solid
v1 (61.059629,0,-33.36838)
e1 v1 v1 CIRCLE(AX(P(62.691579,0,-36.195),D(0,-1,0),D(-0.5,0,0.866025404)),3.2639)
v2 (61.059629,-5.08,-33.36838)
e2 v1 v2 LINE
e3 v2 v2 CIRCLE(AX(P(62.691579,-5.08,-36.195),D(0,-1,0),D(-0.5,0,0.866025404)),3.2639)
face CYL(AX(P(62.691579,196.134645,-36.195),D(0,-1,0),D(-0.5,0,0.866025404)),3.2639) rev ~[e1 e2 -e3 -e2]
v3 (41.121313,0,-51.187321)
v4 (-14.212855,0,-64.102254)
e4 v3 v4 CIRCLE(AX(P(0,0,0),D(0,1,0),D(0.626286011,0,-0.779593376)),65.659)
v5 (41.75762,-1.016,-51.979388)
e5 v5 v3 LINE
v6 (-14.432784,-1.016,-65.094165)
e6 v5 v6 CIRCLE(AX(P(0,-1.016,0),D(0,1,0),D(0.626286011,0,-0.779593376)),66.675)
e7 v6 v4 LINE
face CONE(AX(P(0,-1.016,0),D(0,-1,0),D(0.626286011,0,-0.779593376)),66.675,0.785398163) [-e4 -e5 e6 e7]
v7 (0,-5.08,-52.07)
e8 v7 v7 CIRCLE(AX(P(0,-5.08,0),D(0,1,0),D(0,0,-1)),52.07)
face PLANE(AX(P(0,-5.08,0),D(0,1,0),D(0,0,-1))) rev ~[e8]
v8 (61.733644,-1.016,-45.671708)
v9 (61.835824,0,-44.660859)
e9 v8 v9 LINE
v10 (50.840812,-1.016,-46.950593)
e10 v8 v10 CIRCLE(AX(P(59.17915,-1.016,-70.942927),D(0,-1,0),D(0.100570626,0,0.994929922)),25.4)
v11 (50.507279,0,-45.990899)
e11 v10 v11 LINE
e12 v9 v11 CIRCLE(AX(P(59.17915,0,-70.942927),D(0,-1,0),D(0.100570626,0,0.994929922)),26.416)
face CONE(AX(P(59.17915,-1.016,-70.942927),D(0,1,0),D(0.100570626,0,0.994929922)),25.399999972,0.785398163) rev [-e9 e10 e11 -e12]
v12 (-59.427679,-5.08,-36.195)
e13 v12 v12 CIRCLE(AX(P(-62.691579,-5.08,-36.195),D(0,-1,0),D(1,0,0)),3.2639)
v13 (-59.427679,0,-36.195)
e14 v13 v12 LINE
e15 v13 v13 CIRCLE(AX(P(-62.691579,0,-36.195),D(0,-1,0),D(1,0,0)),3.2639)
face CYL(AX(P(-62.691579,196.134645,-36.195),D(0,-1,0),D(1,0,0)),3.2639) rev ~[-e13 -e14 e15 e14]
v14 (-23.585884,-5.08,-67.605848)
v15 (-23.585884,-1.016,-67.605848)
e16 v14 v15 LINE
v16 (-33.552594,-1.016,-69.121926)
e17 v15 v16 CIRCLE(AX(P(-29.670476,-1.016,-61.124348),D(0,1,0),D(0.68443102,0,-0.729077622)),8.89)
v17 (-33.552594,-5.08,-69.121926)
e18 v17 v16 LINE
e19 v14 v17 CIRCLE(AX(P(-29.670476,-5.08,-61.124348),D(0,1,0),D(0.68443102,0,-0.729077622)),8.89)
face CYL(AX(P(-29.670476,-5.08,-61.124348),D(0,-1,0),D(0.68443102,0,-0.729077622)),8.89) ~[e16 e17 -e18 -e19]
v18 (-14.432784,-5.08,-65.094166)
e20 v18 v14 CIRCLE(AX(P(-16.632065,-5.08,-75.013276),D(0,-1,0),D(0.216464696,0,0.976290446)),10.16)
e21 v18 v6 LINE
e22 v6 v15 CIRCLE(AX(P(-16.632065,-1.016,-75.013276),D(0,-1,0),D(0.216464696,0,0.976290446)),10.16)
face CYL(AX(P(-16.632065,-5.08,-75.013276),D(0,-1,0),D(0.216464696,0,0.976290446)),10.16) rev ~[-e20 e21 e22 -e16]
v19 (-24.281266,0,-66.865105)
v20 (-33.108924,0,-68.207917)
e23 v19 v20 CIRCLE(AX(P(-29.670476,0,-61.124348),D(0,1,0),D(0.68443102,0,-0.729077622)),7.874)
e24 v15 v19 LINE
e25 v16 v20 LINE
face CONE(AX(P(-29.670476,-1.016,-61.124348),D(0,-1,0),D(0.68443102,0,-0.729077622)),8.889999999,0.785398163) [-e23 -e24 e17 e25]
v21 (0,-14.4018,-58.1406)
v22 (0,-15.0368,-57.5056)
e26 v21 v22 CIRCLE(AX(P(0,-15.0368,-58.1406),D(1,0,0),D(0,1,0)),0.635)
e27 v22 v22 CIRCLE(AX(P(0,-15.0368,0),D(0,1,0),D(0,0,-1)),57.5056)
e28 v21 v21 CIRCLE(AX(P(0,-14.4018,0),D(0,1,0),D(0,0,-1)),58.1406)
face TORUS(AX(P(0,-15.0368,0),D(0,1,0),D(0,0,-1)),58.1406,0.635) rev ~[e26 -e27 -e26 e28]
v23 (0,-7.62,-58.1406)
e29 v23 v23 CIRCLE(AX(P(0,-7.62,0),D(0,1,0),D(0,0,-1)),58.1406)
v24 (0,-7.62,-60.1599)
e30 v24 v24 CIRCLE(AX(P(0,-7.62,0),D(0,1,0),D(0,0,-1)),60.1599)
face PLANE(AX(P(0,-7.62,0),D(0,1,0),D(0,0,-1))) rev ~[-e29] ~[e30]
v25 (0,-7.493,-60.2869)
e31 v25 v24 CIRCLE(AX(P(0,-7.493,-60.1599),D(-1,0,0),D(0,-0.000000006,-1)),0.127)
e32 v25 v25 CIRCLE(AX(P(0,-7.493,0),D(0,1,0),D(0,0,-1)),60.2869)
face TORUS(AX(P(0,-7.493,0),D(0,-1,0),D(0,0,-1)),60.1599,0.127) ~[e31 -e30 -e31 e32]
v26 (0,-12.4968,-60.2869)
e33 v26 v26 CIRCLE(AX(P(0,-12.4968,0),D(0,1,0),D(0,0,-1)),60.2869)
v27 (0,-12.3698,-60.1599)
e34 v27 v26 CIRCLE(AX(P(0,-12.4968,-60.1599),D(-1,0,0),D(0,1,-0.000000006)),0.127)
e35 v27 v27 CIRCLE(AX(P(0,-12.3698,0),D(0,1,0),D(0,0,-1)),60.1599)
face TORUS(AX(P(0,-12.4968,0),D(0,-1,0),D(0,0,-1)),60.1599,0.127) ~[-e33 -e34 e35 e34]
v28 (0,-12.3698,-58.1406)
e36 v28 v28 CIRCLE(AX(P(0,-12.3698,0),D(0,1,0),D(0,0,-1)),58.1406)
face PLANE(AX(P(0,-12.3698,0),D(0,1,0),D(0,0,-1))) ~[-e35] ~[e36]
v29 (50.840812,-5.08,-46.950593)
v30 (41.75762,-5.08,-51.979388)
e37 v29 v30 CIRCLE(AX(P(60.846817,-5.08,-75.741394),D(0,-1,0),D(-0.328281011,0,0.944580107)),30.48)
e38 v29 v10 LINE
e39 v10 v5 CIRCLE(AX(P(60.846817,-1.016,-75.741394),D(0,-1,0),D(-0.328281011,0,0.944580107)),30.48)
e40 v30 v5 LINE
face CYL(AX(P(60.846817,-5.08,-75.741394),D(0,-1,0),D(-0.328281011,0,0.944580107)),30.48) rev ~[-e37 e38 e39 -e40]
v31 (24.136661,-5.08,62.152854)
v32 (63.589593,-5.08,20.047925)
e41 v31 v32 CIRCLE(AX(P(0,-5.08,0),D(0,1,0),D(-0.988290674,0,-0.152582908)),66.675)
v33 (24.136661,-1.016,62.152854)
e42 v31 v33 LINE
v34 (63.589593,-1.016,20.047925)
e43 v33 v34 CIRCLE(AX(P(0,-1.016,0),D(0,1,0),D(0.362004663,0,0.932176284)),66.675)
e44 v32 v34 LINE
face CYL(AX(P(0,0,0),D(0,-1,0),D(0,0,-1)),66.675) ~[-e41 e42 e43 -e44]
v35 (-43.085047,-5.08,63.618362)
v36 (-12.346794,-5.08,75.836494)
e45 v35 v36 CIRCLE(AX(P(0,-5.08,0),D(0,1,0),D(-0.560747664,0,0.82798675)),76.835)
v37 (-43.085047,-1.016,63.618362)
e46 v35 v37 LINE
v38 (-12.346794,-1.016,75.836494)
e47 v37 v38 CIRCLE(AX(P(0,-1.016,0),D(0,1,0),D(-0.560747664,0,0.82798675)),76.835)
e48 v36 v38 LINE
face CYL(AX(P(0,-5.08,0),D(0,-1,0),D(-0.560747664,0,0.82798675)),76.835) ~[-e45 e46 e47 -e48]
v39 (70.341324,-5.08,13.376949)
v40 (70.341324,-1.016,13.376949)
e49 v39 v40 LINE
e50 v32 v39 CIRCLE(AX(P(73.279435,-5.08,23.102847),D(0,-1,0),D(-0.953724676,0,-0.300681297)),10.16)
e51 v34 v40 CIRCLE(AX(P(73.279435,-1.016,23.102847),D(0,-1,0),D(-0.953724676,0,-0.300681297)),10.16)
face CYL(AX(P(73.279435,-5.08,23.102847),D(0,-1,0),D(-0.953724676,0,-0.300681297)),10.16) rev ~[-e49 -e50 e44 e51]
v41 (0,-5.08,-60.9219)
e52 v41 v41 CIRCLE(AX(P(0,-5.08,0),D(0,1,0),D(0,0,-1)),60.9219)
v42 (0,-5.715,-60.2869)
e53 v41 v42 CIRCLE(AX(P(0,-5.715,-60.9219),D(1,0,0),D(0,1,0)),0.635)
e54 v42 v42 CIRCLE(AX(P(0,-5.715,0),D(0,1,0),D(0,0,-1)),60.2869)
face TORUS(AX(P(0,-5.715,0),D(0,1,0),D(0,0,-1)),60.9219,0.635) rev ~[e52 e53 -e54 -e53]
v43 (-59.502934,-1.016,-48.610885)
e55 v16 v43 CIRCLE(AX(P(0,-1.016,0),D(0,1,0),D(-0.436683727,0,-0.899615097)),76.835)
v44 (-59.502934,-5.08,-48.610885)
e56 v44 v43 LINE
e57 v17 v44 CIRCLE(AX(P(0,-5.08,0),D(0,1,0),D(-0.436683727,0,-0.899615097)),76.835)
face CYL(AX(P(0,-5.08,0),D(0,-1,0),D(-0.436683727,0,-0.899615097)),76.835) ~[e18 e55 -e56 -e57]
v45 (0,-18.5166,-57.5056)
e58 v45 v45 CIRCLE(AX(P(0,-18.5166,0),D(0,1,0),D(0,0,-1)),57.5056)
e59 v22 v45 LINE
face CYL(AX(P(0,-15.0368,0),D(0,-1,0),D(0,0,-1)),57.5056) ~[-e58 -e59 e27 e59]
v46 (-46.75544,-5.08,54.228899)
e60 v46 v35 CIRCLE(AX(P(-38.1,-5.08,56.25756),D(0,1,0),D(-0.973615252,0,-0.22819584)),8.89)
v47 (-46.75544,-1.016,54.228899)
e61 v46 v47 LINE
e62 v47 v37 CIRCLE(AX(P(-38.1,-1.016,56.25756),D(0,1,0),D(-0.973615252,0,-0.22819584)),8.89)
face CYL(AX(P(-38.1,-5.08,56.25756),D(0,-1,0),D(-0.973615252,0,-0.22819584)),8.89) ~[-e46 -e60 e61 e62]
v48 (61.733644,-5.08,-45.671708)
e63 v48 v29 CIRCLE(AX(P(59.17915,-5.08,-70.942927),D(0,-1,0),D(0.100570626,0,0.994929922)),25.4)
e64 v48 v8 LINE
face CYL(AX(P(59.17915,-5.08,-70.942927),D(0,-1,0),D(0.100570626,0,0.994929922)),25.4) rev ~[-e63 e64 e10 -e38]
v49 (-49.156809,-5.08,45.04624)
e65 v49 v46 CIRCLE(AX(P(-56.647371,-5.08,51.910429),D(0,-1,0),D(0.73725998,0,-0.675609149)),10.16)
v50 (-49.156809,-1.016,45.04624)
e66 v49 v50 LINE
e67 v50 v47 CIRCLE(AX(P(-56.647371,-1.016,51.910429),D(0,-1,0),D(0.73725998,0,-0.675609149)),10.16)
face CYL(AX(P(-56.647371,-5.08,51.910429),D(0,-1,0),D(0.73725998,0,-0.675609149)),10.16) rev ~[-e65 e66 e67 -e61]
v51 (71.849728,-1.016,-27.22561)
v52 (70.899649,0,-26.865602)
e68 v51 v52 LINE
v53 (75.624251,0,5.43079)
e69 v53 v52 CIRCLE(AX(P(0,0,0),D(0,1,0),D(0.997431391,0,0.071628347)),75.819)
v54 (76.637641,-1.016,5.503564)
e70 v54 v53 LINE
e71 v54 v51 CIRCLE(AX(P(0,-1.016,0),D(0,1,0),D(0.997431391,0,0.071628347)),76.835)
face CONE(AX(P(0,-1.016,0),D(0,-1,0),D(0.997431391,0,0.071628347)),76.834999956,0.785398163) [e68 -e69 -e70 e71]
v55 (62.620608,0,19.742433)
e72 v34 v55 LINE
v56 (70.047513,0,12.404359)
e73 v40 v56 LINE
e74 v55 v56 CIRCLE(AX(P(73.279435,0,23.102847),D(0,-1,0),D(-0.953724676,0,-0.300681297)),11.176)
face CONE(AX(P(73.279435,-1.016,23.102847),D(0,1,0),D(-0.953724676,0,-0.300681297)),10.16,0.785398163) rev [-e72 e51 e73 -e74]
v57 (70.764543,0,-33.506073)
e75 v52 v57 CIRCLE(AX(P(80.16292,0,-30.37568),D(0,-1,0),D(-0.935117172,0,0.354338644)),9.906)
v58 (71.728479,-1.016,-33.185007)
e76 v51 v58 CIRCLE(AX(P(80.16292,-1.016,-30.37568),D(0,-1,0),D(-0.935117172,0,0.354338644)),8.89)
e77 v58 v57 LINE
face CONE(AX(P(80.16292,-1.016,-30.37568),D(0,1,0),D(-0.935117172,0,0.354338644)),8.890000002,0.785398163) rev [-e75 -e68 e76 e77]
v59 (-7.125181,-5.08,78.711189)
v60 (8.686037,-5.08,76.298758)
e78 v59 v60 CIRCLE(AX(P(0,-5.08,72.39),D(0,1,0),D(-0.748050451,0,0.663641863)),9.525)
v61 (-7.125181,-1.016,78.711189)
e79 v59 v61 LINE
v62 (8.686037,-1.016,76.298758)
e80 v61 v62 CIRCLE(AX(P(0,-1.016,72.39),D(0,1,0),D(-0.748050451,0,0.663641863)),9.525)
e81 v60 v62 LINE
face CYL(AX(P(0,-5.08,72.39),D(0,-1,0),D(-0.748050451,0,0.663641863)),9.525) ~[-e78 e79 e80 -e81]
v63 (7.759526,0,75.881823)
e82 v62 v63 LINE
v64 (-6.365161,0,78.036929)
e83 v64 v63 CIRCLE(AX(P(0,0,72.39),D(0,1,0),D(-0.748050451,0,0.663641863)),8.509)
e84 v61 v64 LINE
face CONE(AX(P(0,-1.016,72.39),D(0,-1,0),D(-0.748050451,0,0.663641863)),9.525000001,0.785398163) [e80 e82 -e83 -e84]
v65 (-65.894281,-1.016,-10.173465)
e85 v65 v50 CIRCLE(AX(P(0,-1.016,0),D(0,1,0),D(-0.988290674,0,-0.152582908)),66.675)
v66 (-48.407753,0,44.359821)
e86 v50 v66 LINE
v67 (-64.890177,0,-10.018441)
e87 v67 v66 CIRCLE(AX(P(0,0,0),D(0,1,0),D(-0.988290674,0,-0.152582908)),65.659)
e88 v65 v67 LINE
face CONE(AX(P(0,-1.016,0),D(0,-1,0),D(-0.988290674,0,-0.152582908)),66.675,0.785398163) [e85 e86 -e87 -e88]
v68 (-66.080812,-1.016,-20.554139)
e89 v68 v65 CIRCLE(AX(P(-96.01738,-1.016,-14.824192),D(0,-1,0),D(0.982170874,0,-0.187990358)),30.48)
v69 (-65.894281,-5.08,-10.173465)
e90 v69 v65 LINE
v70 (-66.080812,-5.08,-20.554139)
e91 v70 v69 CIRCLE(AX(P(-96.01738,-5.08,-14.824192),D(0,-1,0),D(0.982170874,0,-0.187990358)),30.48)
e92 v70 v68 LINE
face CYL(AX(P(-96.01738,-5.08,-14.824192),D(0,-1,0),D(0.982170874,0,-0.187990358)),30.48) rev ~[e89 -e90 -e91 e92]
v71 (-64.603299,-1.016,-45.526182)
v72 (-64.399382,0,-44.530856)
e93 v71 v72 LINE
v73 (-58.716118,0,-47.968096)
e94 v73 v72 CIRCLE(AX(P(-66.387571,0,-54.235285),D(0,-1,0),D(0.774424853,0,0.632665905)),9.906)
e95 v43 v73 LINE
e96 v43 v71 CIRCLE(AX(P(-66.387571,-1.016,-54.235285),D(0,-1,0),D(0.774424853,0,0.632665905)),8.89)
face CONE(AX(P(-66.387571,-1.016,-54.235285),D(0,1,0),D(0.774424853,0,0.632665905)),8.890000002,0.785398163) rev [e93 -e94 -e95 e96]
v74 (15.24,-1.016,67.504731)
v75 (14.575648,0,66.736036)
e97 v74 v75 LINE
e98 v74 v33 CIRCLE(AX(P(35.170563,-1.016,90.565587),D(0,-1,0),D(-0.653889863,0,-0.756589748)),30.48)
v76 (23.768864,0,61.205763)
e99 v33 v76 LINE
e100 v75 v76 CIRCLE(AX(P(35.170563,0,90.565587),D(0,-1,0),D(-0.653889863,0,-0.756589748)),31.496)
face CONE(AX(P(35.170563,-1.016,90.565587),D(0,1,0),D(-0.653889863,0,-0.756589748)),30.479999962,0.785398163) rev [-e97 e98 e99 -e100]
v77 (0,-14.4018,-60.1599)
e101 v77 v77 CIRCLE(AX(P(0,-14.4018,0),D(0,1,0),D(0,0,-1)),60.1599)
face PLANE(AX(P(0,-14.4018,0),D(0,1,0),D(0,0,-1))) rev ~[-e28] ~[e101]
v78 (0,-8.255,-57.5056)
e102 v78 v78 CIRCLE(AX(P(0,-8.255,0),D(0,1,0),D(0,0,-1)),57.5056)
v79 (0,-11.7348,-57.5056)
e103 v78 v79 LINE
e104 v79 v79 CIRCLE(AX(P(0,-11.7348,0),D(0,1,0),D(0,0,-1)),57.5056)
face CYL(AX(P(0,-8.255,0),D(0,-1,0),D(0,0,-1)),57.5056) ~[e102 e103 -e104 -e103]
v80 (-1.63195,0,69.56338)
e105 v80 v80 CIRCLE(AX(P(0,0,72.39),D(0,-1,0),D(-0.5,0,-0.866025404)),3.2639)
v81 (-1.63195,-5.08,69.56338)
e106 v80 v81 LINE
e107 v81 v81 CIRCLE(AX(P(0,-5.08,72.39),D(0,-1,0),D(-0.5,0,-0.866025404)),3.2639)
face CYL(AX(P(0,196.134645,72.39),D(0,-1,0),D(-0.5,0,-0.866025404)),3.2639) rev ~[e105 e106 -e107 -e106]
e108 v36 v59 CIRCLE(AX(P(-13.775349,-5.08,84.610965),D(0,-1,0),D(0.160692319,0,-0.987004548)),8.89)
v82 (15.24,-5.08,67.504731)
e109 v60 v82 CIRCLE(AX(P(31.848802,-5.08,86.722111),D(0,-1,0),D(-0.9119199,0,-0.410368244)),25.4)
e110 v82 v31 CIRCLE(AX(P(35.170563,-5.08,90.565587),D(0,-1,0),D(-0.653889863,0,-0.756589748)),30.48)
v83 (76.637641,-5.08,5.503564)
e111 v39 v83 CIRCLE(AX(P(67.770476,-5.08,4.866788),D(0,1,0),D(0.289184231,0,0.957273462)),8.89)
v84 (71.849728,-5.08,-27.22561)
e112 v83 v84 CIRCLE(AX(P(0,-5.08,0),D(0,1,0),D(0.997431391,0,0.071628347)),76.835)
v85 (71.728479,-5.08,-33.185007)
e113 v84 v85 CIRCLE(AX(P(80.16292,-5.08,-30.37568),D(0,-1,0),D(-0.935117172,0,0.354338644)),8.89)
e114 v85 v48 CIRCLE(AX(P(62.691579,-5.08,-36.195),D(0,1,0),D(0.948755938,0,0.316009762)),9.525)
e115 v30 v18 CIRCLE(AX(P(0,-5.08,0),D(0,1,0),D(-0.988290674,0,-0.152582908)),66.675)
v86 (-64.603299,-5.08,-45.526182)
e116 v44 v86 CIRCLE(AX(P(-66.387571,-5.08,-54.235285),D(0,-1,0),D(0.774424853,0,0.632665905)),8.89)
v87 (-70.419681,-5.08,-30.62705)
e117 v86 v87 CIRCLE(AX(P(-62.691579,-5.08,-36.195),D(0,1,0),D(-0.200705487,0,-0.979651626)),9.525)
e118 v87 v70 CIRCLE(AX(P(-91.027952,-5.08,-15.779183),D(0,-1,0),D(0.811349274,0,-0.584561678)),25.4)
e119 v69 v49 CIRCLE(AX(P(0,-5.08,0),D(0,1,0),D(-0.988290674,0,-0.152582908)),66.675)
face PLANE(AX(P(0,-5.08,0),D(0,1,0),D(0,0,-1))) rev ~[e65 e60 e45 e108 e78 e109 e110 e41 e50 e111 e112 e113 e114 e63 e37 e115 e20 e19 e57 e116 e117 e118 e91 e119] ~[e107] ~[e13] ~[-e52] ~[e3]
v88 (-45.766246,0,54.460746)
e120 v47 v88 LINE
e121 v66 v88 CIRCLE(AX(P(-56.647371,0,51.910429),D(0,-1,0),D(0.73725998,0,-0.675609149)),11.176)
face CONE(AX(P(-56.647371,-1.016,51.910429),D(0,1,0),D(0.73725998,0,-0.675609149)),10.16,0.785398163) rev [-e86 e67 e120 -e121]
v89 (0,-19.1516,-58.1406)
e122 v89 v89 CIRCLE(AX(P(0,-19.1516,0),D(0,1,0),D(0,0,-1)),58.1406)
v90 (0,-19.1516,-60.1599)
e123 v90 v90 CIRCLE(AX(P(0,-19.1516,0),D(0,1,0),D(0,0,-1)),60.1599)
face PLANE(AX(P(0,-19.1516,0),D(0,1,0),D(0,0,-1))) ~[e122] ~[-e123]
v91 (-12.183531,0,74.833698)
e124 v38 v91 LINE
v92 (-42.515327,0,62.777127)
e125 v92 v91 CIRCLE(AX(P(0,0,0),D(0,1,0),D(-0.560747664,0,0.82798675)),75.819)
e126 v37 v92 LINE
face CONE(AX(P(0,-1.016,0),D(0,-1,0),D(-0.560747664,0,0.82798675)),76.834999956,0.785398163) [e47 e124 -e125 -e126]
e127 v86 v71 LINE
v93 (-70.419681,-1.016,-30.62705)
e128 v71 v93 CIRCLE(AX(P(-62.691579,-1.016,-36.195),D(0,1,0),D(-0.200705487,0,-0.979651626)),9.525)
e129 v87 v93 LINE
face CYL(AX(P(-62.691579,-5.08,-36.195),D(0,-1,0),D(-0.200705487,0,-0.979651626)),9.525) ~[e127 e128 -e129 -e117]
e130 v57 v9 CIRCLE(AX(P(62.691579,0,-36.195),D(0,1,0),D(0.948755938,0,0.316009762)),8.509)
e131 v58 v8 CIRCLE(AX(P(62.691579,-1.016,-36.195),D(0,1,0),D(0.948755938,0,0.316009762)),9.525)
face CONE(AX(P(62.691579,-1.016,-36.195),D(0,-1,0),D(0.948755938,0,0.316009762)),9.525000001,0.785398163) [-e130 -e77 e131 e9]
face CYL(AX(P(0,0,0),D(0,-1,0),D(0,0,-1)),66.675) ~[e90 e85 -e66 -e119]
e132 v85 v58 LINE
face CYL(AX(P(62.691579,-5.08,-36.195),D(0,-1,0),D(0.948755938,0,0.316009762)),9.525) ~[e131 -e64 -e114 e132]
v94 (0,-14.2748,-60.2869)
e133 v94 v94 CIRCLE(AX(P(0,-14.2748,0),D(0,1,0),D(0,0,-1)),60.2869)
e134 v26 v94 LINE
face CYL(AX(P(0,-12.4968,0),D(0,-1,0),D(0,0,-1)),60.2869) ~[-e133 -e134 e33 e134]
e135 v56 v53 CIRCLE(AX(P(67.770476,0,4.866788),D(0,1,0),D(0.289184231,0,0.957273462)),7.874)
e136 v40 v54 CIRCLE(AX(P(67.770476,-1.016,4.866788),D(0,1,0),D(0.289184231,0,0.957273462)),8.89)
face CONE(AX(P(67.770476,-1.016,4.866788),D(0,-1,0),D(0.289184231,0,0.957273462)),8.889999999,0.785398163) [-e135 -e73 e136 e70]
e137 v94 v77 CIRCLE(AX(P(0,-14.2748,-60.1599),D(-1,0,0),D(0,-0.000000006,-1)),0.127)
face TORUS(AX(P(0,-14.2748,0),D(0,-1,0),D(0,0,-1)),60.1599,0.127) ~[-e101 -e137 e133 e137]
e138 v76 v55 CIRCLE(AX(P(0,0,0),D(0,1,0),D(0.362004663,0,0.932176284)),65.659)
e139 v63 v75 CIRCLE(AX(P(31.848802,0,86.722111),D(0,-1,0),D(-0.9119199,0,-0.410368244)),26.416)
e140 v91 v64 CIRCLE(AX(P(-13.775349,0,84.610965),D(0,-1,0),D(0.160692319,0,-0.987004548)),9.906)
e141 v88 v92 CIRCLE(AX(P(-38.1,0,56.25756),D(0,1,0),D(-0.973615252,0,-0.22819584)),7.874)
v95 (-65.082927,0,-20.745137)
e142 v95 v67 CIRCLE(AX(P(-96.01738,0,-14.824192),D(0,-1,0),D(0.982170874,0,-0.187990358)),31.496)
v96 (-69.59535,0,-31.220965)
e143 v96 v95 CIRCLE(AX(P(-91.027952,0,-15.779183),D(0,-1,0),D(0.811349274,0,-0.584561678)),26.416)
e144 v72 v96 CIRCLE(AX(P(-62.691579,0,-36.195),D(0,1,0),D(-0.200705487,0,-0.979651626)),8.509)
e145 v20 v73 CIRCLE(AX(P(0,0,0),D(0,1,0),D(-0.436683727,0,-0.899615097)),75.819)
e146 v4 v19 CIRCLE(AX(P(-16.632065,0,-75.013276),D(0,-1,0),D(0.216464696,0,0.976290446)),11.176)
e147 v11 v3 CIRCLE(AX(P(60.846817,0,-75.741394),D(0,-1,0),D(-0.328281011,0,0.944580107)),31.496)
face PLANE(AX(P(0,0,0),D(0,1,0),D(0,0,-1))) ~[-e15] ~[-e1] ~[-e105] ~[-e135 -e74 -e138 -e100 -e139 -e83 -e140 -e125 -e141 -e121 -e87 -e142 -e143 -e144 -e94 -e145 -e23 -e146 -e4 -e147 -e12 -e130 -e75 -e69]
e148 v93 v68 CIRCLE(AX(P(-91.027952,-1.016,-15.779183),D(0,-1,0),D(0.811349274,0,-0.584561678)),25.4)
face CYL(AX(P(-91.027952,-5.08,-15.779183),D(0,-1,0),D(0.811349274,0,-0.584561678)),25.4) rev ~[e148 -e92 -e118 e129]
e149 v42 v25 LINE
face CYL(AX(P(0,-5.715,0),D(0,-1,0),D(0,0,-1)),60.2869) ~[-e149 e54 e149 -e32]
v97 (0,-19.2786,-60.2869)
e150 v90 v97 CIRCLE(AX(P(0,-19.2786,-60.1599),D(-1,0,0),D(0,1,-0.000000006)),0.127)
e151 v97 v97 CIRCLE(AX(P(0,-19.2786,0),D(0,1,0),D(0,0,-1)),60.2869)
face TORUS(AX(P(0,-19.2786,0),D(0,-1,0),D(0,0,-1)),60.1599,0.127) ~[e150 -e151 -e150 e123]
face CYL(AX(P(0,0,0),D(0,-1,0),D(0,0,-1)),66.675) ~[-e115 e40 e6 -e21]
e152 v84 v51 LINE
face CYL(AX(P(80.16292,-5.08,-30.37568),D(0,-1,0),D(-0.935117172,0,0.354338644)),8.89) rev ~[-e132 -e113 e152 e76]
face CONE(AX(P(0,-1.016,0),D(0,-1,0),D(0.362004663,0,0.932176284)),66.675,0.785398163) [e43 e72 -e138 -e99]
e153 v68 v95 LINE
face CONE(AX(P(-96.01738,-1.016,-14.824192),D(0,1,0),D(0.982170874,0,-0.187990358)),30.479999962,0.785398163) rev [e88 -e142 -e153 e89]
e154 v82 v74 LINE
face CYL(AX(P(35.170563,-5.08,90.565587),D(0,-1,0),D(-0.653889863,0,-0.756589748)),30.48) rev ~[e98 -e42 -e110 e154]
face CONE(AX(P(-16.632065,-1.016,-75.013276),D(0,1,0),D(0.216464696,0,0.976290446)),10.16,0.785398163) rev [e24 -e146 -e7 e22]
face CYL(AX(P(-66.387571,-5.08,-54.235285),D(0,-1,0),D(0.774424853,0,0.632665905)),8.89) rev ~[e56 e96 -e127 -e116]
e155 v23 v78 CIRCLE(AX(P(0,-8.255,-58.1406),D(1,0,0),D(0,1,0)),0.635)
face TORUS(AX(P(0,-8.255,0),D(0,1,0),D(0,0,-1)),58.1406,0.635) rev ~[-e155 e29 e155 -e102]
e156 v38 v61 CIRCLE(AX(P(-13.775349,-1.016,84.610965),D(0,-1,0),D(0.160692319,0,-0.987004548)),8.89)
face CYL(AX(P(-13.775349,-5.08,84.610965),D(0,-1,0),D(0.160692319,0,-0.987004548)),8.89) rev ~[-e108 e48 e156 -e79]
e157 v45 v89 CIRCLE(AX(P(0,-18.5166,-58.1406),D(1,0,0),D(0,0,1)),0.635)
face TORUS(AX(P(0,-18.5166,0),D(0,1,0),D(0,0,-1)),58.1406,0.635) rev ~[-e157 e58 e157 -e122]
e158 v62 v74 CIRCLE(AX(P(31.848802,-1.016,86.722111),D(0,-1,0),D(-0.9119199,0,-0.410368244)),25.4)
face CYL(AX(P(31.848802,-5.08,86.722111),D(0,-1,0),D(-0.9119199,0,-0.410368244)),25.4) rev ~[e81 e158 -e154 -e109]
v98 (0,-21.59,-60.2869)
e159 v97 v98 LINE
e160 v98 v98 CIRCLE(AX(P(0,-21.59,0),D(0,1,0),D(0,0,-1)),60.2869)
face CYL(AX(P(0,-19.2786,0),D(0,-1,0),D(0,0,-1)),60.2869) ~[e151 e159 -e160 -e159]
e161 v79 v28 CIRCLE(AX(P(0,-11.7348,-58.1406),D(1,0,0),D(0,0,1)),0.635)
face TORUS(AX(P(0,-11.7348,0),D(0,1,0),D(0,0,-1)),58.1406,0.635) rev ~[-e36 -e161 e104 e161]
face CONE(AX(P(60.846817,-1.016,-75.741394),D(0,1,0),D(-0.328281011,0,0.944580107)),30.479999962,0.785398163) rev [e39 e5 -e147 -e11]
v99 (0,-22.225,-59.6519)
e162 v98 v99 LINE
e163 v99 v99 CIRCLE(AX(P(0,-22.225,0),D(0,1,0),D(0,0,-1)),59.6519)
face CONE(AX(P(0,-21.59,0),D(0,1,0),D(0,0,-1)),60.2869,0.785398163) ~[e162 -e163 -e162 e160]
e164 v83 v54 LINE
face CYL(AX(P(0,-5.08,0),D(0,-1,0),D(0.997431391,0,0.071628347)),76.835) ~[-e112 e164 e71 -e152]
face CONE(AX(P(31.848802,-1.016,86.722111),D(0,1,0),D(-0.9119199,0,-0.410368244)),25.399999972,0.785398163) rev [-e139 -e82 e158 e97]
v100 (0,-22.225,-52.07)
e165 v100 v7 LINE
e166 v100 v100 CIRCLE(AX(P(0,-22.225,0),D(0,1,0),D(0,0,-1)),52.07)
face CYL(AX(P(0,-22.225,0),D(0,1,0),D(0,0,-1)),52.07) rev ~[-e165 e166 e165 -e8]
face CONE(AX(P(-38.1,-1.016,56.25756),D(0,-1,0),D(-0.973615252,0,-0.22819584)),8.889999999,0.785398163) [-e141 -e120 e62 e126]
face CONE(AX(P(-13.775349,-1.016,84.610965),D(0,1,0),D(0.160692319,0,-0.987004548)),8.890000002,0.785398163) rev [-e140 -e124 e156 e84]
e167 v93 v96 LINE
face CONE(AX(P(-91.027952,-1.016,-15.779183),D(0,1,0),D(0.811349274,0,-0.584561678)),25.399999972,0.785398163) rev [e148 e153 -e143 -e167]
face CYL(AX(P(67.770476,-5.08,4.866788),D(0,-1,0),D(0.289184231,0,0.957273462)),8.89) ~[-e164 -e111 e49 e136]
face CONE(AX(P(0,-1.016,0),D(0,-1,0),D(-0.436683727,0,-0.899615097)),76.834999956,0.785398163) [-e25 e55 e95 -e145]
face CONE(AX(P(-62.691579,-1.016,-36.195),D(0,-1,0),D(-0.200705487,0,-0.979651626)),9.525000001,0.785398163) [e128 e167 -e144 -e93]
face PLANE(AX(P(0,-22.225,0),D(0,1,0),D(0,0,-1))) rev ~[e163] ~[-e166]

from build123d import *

# Parameters (mm, degrees)
BOSS_EXTRUDE1_START     = -5.08
BOSS_EXTRUDE1_DEPTH     = 5.08
F_1_4_CLEARANCE_HOLE1_D = 6.5278
CIRPATTERN1_COUNT       = 3
CHAMFER1_SIZE           = 0.635
CHAMFER2_SIZE           = 1.016


with BuildPart() as part:
    # Sketch2 → Revolve1 (revolve)
    with BuildSketch(Plane.XY, mode=Mode.PRIVATE) as revolve1_sk:
        with BuildLine():
            Line((0, 0), (-66.675, 0))
            Line((-66.675, 0), (-66.675, -5.08))
            Line((-66.675, -5.08), (-60.9219, -5.08))
            ThreePointArc((-60.9219, -5.08), (-60.472887194, -5.265987194), (-60.2869, -5.715))
            Line((-60.2869, -5.715), (-60.2869, -7.493))
            ThreePointArc((-60.2869, -7.493), (-60.249702561, -7.582802561), (-60.1599, -7.62))
            Line((-60.1599, -7.62), (-58.1406, -7.62))
            ThreePointArc((-58.1406, -7.62), (-57.691587194, -7.805987194), (-57.5056, -8.255))
            Line((-57.5056, -8.255), (-57.5056, -11.7348))
            ThreePointArc((-57.5056, -11.7348), (-57.691587194, -12.183812806), (-58.1406, -12.3698))
            Line((-58.1406, -12.3698), (-60.1599, -12.3698))
            ThreePointArc((-60.1599, -12.3698), (-60.249702561, -12.406997439), (-60.2869, -12.4968))
            Line((-60.2869, -12.4968), (-60.2869, -14.2748))
            ThreePointArc((-60.2869, -14.2748), (-60.249702561, -14.364602561), (-60.1599, -14.4018))
            Line((-60.1599, -14.4018), (-58.1406, -14.4018))
            ThreePointArc((-58.1406, -14.4018), (-57.691587194, -14.587787194), (-57.5056, -15.0368))
            Line((-57.5056, -15.0368), (-57.5056, -18.5166))
            ThreePointArc((-57.5056, -18.5166), (-57.691587194, -18.965612806), (-58.1406, -19.1516))
            Line((-58.1406, -19.1516), (-60.1599, -19.1516))
            ThreePointArc((-60.1599, -19.1516), (-60.249702561, -19.188797439), (-60.2869, -19.2786))
            Line((-60.2869, -19.2786), (-60.2869, -22.225))
            Line((-60.2869, -22.225), (-52.07, -22.225))
            Line((-52.07, -22.225), (-52.07, -5.08))
            Line((-52.07, -5.08), (0, -5.08))
            Line((0, -5.08), (0, 0))
        make_face()
    revolve(revolve1_sk.sketch.rotate(Axis((0, 0, 0), (0, 1, 0)), 270), axis=Axis((0, 0, 0), (0, 1, 0)))

    # Sketch11 → Boss-Extrude1 (add)
    with BuildSketch(Plane(origin=(0, 0, 0), x_dir=(1, 0, 0), z_dir=(0, 1, 0)).offset(BOSS_EXTRUDE1_START)):
        with BuildLine():
            ThreePointArc((-33.552594205, 69.12192595), (-47.644606361, 60.279421943), (-59.502933581, 48.610884791))
            ThreePointArc((-59.502933581, 48.610884791), (-61.786881136, 46.628330159), (-64.603298745, 45.526181733))
            ThreePointArc((-64.603298745, 45.526181733), (-71.564434866, 39.658820639), (-70.41968082, 30.627050022))
            ThreePointArc((-70.41968082, 30.627050022), (-67.700076965, 25.827577718), (-66.080812198, 20.554138506))
            ThreePointArc((-66.080812198, 20.554138506), (-65.542300069, 15.371802621), (-65.894280688, 10.17346537))
            ThreePointArc((-65.894280688, 10.17346537), (-48.65367551, 45.589203595), (-14.432783616, 65.0941655))
            ThreePointArc((-14.432783616, 65.0941655), (-19.320660202, 65.215467726), (-23.585884096, 67.605847797))
            ThreePointArc((-23.585884096, 67.605847797), (-28.333559435, 69.913247243), (-33.552594205, 69.12192595))
        make_face()
    boss_extrude1 = extrude(amount=BOSS_EXTRUDE1_DEPTH)

    # 1/4 Clearance Hole1 (through all)
    with Locations(Plane(origin=(-10.459851596, 0, 18.14366046), x_dir=(-1, 0, 0), z_dir=(0, 1, 0))):
        with Locations((52.231727384, -54.33866046)):
            f_1_4_clearance_hole1 = Hole(F_1_4_CLEARANCE_HOLE1_D / 2)

    # CirPattern1: Boss-Extrude1, 1/4 Clearance Hole1 ×3 about axis
    cirpattern1_axis = Axis((0, 0, 0), (0, 1, 0))
    add([boss_extrude1.rotate(cirpattern1_axis, i * 360 / CIRPATTERN1_COUNT) for i in range(1, CIRPATTERN1_COUNT)])
    add([f_1_4_clearance_hole1.rotate(cirpattern1_axis, i * 360 / CIRPATTERN1_COUNT) for i in range(1, CIRPATTERN1_COUNT)], mode=Mode.SUBTRACT)

    # Chamfer1
    chamfer1_edges = [part.edges().sort_by_distance(p)[0] for p in [
        (0, -22.225, 60.2869),
    ]]
    chamfer(chamfer1_edges, length=CHAMFER1_SIZE)

    # Chamfer2
    chamfer2_edges = [part.edges().sort_by_distance(p)[0] for p in [
        (15.154570696, 0, -64.929920776),
        (-19.320660202, 0, -65.215467726),
        (-28.333559435, 0, -69.913247243),
        (-47.644606361, 0, -60.279421943),
        (-61.786881136, 0, -46.628330159),
        (-71.564434866, 0, -39.658820639),
        (-67.700076965, 0, -25.827577718),
        (-65.542300069, 0, -15.371802621),
        (48.65367551, 0, 45.589203595),
        (66.138581871, 0, 15.87555131),
        (74.713427891, 0, 10.419041371),
        (76.025813908, 0, -11.12172849),
        (71.274759022, 0, -30.194843605),
        (70.127763591, 0, -42.147208282),
        (56.217376905, 0, -45.716197631),
        (46.083521606, 0, -49.075395572),
        (-63.808246206, 0, 19.340717182),
        (-46.817921669, 0, 49.339916416),
        (-46.379868456, 0, 59.494205872),
        (-28.381207547, 0, 71.401150433),
        (-9.487877886, 0, 76.823173764),
        (1.436671275, 0, 81.806028921),
        (11.48270006, 0, 71.543775349),
        (19.458778463, 0, 64.447198193),
    ]]
    chamfer(chamfer2_edges, length=CHAMFER2_SIZE)


solid = part.part
